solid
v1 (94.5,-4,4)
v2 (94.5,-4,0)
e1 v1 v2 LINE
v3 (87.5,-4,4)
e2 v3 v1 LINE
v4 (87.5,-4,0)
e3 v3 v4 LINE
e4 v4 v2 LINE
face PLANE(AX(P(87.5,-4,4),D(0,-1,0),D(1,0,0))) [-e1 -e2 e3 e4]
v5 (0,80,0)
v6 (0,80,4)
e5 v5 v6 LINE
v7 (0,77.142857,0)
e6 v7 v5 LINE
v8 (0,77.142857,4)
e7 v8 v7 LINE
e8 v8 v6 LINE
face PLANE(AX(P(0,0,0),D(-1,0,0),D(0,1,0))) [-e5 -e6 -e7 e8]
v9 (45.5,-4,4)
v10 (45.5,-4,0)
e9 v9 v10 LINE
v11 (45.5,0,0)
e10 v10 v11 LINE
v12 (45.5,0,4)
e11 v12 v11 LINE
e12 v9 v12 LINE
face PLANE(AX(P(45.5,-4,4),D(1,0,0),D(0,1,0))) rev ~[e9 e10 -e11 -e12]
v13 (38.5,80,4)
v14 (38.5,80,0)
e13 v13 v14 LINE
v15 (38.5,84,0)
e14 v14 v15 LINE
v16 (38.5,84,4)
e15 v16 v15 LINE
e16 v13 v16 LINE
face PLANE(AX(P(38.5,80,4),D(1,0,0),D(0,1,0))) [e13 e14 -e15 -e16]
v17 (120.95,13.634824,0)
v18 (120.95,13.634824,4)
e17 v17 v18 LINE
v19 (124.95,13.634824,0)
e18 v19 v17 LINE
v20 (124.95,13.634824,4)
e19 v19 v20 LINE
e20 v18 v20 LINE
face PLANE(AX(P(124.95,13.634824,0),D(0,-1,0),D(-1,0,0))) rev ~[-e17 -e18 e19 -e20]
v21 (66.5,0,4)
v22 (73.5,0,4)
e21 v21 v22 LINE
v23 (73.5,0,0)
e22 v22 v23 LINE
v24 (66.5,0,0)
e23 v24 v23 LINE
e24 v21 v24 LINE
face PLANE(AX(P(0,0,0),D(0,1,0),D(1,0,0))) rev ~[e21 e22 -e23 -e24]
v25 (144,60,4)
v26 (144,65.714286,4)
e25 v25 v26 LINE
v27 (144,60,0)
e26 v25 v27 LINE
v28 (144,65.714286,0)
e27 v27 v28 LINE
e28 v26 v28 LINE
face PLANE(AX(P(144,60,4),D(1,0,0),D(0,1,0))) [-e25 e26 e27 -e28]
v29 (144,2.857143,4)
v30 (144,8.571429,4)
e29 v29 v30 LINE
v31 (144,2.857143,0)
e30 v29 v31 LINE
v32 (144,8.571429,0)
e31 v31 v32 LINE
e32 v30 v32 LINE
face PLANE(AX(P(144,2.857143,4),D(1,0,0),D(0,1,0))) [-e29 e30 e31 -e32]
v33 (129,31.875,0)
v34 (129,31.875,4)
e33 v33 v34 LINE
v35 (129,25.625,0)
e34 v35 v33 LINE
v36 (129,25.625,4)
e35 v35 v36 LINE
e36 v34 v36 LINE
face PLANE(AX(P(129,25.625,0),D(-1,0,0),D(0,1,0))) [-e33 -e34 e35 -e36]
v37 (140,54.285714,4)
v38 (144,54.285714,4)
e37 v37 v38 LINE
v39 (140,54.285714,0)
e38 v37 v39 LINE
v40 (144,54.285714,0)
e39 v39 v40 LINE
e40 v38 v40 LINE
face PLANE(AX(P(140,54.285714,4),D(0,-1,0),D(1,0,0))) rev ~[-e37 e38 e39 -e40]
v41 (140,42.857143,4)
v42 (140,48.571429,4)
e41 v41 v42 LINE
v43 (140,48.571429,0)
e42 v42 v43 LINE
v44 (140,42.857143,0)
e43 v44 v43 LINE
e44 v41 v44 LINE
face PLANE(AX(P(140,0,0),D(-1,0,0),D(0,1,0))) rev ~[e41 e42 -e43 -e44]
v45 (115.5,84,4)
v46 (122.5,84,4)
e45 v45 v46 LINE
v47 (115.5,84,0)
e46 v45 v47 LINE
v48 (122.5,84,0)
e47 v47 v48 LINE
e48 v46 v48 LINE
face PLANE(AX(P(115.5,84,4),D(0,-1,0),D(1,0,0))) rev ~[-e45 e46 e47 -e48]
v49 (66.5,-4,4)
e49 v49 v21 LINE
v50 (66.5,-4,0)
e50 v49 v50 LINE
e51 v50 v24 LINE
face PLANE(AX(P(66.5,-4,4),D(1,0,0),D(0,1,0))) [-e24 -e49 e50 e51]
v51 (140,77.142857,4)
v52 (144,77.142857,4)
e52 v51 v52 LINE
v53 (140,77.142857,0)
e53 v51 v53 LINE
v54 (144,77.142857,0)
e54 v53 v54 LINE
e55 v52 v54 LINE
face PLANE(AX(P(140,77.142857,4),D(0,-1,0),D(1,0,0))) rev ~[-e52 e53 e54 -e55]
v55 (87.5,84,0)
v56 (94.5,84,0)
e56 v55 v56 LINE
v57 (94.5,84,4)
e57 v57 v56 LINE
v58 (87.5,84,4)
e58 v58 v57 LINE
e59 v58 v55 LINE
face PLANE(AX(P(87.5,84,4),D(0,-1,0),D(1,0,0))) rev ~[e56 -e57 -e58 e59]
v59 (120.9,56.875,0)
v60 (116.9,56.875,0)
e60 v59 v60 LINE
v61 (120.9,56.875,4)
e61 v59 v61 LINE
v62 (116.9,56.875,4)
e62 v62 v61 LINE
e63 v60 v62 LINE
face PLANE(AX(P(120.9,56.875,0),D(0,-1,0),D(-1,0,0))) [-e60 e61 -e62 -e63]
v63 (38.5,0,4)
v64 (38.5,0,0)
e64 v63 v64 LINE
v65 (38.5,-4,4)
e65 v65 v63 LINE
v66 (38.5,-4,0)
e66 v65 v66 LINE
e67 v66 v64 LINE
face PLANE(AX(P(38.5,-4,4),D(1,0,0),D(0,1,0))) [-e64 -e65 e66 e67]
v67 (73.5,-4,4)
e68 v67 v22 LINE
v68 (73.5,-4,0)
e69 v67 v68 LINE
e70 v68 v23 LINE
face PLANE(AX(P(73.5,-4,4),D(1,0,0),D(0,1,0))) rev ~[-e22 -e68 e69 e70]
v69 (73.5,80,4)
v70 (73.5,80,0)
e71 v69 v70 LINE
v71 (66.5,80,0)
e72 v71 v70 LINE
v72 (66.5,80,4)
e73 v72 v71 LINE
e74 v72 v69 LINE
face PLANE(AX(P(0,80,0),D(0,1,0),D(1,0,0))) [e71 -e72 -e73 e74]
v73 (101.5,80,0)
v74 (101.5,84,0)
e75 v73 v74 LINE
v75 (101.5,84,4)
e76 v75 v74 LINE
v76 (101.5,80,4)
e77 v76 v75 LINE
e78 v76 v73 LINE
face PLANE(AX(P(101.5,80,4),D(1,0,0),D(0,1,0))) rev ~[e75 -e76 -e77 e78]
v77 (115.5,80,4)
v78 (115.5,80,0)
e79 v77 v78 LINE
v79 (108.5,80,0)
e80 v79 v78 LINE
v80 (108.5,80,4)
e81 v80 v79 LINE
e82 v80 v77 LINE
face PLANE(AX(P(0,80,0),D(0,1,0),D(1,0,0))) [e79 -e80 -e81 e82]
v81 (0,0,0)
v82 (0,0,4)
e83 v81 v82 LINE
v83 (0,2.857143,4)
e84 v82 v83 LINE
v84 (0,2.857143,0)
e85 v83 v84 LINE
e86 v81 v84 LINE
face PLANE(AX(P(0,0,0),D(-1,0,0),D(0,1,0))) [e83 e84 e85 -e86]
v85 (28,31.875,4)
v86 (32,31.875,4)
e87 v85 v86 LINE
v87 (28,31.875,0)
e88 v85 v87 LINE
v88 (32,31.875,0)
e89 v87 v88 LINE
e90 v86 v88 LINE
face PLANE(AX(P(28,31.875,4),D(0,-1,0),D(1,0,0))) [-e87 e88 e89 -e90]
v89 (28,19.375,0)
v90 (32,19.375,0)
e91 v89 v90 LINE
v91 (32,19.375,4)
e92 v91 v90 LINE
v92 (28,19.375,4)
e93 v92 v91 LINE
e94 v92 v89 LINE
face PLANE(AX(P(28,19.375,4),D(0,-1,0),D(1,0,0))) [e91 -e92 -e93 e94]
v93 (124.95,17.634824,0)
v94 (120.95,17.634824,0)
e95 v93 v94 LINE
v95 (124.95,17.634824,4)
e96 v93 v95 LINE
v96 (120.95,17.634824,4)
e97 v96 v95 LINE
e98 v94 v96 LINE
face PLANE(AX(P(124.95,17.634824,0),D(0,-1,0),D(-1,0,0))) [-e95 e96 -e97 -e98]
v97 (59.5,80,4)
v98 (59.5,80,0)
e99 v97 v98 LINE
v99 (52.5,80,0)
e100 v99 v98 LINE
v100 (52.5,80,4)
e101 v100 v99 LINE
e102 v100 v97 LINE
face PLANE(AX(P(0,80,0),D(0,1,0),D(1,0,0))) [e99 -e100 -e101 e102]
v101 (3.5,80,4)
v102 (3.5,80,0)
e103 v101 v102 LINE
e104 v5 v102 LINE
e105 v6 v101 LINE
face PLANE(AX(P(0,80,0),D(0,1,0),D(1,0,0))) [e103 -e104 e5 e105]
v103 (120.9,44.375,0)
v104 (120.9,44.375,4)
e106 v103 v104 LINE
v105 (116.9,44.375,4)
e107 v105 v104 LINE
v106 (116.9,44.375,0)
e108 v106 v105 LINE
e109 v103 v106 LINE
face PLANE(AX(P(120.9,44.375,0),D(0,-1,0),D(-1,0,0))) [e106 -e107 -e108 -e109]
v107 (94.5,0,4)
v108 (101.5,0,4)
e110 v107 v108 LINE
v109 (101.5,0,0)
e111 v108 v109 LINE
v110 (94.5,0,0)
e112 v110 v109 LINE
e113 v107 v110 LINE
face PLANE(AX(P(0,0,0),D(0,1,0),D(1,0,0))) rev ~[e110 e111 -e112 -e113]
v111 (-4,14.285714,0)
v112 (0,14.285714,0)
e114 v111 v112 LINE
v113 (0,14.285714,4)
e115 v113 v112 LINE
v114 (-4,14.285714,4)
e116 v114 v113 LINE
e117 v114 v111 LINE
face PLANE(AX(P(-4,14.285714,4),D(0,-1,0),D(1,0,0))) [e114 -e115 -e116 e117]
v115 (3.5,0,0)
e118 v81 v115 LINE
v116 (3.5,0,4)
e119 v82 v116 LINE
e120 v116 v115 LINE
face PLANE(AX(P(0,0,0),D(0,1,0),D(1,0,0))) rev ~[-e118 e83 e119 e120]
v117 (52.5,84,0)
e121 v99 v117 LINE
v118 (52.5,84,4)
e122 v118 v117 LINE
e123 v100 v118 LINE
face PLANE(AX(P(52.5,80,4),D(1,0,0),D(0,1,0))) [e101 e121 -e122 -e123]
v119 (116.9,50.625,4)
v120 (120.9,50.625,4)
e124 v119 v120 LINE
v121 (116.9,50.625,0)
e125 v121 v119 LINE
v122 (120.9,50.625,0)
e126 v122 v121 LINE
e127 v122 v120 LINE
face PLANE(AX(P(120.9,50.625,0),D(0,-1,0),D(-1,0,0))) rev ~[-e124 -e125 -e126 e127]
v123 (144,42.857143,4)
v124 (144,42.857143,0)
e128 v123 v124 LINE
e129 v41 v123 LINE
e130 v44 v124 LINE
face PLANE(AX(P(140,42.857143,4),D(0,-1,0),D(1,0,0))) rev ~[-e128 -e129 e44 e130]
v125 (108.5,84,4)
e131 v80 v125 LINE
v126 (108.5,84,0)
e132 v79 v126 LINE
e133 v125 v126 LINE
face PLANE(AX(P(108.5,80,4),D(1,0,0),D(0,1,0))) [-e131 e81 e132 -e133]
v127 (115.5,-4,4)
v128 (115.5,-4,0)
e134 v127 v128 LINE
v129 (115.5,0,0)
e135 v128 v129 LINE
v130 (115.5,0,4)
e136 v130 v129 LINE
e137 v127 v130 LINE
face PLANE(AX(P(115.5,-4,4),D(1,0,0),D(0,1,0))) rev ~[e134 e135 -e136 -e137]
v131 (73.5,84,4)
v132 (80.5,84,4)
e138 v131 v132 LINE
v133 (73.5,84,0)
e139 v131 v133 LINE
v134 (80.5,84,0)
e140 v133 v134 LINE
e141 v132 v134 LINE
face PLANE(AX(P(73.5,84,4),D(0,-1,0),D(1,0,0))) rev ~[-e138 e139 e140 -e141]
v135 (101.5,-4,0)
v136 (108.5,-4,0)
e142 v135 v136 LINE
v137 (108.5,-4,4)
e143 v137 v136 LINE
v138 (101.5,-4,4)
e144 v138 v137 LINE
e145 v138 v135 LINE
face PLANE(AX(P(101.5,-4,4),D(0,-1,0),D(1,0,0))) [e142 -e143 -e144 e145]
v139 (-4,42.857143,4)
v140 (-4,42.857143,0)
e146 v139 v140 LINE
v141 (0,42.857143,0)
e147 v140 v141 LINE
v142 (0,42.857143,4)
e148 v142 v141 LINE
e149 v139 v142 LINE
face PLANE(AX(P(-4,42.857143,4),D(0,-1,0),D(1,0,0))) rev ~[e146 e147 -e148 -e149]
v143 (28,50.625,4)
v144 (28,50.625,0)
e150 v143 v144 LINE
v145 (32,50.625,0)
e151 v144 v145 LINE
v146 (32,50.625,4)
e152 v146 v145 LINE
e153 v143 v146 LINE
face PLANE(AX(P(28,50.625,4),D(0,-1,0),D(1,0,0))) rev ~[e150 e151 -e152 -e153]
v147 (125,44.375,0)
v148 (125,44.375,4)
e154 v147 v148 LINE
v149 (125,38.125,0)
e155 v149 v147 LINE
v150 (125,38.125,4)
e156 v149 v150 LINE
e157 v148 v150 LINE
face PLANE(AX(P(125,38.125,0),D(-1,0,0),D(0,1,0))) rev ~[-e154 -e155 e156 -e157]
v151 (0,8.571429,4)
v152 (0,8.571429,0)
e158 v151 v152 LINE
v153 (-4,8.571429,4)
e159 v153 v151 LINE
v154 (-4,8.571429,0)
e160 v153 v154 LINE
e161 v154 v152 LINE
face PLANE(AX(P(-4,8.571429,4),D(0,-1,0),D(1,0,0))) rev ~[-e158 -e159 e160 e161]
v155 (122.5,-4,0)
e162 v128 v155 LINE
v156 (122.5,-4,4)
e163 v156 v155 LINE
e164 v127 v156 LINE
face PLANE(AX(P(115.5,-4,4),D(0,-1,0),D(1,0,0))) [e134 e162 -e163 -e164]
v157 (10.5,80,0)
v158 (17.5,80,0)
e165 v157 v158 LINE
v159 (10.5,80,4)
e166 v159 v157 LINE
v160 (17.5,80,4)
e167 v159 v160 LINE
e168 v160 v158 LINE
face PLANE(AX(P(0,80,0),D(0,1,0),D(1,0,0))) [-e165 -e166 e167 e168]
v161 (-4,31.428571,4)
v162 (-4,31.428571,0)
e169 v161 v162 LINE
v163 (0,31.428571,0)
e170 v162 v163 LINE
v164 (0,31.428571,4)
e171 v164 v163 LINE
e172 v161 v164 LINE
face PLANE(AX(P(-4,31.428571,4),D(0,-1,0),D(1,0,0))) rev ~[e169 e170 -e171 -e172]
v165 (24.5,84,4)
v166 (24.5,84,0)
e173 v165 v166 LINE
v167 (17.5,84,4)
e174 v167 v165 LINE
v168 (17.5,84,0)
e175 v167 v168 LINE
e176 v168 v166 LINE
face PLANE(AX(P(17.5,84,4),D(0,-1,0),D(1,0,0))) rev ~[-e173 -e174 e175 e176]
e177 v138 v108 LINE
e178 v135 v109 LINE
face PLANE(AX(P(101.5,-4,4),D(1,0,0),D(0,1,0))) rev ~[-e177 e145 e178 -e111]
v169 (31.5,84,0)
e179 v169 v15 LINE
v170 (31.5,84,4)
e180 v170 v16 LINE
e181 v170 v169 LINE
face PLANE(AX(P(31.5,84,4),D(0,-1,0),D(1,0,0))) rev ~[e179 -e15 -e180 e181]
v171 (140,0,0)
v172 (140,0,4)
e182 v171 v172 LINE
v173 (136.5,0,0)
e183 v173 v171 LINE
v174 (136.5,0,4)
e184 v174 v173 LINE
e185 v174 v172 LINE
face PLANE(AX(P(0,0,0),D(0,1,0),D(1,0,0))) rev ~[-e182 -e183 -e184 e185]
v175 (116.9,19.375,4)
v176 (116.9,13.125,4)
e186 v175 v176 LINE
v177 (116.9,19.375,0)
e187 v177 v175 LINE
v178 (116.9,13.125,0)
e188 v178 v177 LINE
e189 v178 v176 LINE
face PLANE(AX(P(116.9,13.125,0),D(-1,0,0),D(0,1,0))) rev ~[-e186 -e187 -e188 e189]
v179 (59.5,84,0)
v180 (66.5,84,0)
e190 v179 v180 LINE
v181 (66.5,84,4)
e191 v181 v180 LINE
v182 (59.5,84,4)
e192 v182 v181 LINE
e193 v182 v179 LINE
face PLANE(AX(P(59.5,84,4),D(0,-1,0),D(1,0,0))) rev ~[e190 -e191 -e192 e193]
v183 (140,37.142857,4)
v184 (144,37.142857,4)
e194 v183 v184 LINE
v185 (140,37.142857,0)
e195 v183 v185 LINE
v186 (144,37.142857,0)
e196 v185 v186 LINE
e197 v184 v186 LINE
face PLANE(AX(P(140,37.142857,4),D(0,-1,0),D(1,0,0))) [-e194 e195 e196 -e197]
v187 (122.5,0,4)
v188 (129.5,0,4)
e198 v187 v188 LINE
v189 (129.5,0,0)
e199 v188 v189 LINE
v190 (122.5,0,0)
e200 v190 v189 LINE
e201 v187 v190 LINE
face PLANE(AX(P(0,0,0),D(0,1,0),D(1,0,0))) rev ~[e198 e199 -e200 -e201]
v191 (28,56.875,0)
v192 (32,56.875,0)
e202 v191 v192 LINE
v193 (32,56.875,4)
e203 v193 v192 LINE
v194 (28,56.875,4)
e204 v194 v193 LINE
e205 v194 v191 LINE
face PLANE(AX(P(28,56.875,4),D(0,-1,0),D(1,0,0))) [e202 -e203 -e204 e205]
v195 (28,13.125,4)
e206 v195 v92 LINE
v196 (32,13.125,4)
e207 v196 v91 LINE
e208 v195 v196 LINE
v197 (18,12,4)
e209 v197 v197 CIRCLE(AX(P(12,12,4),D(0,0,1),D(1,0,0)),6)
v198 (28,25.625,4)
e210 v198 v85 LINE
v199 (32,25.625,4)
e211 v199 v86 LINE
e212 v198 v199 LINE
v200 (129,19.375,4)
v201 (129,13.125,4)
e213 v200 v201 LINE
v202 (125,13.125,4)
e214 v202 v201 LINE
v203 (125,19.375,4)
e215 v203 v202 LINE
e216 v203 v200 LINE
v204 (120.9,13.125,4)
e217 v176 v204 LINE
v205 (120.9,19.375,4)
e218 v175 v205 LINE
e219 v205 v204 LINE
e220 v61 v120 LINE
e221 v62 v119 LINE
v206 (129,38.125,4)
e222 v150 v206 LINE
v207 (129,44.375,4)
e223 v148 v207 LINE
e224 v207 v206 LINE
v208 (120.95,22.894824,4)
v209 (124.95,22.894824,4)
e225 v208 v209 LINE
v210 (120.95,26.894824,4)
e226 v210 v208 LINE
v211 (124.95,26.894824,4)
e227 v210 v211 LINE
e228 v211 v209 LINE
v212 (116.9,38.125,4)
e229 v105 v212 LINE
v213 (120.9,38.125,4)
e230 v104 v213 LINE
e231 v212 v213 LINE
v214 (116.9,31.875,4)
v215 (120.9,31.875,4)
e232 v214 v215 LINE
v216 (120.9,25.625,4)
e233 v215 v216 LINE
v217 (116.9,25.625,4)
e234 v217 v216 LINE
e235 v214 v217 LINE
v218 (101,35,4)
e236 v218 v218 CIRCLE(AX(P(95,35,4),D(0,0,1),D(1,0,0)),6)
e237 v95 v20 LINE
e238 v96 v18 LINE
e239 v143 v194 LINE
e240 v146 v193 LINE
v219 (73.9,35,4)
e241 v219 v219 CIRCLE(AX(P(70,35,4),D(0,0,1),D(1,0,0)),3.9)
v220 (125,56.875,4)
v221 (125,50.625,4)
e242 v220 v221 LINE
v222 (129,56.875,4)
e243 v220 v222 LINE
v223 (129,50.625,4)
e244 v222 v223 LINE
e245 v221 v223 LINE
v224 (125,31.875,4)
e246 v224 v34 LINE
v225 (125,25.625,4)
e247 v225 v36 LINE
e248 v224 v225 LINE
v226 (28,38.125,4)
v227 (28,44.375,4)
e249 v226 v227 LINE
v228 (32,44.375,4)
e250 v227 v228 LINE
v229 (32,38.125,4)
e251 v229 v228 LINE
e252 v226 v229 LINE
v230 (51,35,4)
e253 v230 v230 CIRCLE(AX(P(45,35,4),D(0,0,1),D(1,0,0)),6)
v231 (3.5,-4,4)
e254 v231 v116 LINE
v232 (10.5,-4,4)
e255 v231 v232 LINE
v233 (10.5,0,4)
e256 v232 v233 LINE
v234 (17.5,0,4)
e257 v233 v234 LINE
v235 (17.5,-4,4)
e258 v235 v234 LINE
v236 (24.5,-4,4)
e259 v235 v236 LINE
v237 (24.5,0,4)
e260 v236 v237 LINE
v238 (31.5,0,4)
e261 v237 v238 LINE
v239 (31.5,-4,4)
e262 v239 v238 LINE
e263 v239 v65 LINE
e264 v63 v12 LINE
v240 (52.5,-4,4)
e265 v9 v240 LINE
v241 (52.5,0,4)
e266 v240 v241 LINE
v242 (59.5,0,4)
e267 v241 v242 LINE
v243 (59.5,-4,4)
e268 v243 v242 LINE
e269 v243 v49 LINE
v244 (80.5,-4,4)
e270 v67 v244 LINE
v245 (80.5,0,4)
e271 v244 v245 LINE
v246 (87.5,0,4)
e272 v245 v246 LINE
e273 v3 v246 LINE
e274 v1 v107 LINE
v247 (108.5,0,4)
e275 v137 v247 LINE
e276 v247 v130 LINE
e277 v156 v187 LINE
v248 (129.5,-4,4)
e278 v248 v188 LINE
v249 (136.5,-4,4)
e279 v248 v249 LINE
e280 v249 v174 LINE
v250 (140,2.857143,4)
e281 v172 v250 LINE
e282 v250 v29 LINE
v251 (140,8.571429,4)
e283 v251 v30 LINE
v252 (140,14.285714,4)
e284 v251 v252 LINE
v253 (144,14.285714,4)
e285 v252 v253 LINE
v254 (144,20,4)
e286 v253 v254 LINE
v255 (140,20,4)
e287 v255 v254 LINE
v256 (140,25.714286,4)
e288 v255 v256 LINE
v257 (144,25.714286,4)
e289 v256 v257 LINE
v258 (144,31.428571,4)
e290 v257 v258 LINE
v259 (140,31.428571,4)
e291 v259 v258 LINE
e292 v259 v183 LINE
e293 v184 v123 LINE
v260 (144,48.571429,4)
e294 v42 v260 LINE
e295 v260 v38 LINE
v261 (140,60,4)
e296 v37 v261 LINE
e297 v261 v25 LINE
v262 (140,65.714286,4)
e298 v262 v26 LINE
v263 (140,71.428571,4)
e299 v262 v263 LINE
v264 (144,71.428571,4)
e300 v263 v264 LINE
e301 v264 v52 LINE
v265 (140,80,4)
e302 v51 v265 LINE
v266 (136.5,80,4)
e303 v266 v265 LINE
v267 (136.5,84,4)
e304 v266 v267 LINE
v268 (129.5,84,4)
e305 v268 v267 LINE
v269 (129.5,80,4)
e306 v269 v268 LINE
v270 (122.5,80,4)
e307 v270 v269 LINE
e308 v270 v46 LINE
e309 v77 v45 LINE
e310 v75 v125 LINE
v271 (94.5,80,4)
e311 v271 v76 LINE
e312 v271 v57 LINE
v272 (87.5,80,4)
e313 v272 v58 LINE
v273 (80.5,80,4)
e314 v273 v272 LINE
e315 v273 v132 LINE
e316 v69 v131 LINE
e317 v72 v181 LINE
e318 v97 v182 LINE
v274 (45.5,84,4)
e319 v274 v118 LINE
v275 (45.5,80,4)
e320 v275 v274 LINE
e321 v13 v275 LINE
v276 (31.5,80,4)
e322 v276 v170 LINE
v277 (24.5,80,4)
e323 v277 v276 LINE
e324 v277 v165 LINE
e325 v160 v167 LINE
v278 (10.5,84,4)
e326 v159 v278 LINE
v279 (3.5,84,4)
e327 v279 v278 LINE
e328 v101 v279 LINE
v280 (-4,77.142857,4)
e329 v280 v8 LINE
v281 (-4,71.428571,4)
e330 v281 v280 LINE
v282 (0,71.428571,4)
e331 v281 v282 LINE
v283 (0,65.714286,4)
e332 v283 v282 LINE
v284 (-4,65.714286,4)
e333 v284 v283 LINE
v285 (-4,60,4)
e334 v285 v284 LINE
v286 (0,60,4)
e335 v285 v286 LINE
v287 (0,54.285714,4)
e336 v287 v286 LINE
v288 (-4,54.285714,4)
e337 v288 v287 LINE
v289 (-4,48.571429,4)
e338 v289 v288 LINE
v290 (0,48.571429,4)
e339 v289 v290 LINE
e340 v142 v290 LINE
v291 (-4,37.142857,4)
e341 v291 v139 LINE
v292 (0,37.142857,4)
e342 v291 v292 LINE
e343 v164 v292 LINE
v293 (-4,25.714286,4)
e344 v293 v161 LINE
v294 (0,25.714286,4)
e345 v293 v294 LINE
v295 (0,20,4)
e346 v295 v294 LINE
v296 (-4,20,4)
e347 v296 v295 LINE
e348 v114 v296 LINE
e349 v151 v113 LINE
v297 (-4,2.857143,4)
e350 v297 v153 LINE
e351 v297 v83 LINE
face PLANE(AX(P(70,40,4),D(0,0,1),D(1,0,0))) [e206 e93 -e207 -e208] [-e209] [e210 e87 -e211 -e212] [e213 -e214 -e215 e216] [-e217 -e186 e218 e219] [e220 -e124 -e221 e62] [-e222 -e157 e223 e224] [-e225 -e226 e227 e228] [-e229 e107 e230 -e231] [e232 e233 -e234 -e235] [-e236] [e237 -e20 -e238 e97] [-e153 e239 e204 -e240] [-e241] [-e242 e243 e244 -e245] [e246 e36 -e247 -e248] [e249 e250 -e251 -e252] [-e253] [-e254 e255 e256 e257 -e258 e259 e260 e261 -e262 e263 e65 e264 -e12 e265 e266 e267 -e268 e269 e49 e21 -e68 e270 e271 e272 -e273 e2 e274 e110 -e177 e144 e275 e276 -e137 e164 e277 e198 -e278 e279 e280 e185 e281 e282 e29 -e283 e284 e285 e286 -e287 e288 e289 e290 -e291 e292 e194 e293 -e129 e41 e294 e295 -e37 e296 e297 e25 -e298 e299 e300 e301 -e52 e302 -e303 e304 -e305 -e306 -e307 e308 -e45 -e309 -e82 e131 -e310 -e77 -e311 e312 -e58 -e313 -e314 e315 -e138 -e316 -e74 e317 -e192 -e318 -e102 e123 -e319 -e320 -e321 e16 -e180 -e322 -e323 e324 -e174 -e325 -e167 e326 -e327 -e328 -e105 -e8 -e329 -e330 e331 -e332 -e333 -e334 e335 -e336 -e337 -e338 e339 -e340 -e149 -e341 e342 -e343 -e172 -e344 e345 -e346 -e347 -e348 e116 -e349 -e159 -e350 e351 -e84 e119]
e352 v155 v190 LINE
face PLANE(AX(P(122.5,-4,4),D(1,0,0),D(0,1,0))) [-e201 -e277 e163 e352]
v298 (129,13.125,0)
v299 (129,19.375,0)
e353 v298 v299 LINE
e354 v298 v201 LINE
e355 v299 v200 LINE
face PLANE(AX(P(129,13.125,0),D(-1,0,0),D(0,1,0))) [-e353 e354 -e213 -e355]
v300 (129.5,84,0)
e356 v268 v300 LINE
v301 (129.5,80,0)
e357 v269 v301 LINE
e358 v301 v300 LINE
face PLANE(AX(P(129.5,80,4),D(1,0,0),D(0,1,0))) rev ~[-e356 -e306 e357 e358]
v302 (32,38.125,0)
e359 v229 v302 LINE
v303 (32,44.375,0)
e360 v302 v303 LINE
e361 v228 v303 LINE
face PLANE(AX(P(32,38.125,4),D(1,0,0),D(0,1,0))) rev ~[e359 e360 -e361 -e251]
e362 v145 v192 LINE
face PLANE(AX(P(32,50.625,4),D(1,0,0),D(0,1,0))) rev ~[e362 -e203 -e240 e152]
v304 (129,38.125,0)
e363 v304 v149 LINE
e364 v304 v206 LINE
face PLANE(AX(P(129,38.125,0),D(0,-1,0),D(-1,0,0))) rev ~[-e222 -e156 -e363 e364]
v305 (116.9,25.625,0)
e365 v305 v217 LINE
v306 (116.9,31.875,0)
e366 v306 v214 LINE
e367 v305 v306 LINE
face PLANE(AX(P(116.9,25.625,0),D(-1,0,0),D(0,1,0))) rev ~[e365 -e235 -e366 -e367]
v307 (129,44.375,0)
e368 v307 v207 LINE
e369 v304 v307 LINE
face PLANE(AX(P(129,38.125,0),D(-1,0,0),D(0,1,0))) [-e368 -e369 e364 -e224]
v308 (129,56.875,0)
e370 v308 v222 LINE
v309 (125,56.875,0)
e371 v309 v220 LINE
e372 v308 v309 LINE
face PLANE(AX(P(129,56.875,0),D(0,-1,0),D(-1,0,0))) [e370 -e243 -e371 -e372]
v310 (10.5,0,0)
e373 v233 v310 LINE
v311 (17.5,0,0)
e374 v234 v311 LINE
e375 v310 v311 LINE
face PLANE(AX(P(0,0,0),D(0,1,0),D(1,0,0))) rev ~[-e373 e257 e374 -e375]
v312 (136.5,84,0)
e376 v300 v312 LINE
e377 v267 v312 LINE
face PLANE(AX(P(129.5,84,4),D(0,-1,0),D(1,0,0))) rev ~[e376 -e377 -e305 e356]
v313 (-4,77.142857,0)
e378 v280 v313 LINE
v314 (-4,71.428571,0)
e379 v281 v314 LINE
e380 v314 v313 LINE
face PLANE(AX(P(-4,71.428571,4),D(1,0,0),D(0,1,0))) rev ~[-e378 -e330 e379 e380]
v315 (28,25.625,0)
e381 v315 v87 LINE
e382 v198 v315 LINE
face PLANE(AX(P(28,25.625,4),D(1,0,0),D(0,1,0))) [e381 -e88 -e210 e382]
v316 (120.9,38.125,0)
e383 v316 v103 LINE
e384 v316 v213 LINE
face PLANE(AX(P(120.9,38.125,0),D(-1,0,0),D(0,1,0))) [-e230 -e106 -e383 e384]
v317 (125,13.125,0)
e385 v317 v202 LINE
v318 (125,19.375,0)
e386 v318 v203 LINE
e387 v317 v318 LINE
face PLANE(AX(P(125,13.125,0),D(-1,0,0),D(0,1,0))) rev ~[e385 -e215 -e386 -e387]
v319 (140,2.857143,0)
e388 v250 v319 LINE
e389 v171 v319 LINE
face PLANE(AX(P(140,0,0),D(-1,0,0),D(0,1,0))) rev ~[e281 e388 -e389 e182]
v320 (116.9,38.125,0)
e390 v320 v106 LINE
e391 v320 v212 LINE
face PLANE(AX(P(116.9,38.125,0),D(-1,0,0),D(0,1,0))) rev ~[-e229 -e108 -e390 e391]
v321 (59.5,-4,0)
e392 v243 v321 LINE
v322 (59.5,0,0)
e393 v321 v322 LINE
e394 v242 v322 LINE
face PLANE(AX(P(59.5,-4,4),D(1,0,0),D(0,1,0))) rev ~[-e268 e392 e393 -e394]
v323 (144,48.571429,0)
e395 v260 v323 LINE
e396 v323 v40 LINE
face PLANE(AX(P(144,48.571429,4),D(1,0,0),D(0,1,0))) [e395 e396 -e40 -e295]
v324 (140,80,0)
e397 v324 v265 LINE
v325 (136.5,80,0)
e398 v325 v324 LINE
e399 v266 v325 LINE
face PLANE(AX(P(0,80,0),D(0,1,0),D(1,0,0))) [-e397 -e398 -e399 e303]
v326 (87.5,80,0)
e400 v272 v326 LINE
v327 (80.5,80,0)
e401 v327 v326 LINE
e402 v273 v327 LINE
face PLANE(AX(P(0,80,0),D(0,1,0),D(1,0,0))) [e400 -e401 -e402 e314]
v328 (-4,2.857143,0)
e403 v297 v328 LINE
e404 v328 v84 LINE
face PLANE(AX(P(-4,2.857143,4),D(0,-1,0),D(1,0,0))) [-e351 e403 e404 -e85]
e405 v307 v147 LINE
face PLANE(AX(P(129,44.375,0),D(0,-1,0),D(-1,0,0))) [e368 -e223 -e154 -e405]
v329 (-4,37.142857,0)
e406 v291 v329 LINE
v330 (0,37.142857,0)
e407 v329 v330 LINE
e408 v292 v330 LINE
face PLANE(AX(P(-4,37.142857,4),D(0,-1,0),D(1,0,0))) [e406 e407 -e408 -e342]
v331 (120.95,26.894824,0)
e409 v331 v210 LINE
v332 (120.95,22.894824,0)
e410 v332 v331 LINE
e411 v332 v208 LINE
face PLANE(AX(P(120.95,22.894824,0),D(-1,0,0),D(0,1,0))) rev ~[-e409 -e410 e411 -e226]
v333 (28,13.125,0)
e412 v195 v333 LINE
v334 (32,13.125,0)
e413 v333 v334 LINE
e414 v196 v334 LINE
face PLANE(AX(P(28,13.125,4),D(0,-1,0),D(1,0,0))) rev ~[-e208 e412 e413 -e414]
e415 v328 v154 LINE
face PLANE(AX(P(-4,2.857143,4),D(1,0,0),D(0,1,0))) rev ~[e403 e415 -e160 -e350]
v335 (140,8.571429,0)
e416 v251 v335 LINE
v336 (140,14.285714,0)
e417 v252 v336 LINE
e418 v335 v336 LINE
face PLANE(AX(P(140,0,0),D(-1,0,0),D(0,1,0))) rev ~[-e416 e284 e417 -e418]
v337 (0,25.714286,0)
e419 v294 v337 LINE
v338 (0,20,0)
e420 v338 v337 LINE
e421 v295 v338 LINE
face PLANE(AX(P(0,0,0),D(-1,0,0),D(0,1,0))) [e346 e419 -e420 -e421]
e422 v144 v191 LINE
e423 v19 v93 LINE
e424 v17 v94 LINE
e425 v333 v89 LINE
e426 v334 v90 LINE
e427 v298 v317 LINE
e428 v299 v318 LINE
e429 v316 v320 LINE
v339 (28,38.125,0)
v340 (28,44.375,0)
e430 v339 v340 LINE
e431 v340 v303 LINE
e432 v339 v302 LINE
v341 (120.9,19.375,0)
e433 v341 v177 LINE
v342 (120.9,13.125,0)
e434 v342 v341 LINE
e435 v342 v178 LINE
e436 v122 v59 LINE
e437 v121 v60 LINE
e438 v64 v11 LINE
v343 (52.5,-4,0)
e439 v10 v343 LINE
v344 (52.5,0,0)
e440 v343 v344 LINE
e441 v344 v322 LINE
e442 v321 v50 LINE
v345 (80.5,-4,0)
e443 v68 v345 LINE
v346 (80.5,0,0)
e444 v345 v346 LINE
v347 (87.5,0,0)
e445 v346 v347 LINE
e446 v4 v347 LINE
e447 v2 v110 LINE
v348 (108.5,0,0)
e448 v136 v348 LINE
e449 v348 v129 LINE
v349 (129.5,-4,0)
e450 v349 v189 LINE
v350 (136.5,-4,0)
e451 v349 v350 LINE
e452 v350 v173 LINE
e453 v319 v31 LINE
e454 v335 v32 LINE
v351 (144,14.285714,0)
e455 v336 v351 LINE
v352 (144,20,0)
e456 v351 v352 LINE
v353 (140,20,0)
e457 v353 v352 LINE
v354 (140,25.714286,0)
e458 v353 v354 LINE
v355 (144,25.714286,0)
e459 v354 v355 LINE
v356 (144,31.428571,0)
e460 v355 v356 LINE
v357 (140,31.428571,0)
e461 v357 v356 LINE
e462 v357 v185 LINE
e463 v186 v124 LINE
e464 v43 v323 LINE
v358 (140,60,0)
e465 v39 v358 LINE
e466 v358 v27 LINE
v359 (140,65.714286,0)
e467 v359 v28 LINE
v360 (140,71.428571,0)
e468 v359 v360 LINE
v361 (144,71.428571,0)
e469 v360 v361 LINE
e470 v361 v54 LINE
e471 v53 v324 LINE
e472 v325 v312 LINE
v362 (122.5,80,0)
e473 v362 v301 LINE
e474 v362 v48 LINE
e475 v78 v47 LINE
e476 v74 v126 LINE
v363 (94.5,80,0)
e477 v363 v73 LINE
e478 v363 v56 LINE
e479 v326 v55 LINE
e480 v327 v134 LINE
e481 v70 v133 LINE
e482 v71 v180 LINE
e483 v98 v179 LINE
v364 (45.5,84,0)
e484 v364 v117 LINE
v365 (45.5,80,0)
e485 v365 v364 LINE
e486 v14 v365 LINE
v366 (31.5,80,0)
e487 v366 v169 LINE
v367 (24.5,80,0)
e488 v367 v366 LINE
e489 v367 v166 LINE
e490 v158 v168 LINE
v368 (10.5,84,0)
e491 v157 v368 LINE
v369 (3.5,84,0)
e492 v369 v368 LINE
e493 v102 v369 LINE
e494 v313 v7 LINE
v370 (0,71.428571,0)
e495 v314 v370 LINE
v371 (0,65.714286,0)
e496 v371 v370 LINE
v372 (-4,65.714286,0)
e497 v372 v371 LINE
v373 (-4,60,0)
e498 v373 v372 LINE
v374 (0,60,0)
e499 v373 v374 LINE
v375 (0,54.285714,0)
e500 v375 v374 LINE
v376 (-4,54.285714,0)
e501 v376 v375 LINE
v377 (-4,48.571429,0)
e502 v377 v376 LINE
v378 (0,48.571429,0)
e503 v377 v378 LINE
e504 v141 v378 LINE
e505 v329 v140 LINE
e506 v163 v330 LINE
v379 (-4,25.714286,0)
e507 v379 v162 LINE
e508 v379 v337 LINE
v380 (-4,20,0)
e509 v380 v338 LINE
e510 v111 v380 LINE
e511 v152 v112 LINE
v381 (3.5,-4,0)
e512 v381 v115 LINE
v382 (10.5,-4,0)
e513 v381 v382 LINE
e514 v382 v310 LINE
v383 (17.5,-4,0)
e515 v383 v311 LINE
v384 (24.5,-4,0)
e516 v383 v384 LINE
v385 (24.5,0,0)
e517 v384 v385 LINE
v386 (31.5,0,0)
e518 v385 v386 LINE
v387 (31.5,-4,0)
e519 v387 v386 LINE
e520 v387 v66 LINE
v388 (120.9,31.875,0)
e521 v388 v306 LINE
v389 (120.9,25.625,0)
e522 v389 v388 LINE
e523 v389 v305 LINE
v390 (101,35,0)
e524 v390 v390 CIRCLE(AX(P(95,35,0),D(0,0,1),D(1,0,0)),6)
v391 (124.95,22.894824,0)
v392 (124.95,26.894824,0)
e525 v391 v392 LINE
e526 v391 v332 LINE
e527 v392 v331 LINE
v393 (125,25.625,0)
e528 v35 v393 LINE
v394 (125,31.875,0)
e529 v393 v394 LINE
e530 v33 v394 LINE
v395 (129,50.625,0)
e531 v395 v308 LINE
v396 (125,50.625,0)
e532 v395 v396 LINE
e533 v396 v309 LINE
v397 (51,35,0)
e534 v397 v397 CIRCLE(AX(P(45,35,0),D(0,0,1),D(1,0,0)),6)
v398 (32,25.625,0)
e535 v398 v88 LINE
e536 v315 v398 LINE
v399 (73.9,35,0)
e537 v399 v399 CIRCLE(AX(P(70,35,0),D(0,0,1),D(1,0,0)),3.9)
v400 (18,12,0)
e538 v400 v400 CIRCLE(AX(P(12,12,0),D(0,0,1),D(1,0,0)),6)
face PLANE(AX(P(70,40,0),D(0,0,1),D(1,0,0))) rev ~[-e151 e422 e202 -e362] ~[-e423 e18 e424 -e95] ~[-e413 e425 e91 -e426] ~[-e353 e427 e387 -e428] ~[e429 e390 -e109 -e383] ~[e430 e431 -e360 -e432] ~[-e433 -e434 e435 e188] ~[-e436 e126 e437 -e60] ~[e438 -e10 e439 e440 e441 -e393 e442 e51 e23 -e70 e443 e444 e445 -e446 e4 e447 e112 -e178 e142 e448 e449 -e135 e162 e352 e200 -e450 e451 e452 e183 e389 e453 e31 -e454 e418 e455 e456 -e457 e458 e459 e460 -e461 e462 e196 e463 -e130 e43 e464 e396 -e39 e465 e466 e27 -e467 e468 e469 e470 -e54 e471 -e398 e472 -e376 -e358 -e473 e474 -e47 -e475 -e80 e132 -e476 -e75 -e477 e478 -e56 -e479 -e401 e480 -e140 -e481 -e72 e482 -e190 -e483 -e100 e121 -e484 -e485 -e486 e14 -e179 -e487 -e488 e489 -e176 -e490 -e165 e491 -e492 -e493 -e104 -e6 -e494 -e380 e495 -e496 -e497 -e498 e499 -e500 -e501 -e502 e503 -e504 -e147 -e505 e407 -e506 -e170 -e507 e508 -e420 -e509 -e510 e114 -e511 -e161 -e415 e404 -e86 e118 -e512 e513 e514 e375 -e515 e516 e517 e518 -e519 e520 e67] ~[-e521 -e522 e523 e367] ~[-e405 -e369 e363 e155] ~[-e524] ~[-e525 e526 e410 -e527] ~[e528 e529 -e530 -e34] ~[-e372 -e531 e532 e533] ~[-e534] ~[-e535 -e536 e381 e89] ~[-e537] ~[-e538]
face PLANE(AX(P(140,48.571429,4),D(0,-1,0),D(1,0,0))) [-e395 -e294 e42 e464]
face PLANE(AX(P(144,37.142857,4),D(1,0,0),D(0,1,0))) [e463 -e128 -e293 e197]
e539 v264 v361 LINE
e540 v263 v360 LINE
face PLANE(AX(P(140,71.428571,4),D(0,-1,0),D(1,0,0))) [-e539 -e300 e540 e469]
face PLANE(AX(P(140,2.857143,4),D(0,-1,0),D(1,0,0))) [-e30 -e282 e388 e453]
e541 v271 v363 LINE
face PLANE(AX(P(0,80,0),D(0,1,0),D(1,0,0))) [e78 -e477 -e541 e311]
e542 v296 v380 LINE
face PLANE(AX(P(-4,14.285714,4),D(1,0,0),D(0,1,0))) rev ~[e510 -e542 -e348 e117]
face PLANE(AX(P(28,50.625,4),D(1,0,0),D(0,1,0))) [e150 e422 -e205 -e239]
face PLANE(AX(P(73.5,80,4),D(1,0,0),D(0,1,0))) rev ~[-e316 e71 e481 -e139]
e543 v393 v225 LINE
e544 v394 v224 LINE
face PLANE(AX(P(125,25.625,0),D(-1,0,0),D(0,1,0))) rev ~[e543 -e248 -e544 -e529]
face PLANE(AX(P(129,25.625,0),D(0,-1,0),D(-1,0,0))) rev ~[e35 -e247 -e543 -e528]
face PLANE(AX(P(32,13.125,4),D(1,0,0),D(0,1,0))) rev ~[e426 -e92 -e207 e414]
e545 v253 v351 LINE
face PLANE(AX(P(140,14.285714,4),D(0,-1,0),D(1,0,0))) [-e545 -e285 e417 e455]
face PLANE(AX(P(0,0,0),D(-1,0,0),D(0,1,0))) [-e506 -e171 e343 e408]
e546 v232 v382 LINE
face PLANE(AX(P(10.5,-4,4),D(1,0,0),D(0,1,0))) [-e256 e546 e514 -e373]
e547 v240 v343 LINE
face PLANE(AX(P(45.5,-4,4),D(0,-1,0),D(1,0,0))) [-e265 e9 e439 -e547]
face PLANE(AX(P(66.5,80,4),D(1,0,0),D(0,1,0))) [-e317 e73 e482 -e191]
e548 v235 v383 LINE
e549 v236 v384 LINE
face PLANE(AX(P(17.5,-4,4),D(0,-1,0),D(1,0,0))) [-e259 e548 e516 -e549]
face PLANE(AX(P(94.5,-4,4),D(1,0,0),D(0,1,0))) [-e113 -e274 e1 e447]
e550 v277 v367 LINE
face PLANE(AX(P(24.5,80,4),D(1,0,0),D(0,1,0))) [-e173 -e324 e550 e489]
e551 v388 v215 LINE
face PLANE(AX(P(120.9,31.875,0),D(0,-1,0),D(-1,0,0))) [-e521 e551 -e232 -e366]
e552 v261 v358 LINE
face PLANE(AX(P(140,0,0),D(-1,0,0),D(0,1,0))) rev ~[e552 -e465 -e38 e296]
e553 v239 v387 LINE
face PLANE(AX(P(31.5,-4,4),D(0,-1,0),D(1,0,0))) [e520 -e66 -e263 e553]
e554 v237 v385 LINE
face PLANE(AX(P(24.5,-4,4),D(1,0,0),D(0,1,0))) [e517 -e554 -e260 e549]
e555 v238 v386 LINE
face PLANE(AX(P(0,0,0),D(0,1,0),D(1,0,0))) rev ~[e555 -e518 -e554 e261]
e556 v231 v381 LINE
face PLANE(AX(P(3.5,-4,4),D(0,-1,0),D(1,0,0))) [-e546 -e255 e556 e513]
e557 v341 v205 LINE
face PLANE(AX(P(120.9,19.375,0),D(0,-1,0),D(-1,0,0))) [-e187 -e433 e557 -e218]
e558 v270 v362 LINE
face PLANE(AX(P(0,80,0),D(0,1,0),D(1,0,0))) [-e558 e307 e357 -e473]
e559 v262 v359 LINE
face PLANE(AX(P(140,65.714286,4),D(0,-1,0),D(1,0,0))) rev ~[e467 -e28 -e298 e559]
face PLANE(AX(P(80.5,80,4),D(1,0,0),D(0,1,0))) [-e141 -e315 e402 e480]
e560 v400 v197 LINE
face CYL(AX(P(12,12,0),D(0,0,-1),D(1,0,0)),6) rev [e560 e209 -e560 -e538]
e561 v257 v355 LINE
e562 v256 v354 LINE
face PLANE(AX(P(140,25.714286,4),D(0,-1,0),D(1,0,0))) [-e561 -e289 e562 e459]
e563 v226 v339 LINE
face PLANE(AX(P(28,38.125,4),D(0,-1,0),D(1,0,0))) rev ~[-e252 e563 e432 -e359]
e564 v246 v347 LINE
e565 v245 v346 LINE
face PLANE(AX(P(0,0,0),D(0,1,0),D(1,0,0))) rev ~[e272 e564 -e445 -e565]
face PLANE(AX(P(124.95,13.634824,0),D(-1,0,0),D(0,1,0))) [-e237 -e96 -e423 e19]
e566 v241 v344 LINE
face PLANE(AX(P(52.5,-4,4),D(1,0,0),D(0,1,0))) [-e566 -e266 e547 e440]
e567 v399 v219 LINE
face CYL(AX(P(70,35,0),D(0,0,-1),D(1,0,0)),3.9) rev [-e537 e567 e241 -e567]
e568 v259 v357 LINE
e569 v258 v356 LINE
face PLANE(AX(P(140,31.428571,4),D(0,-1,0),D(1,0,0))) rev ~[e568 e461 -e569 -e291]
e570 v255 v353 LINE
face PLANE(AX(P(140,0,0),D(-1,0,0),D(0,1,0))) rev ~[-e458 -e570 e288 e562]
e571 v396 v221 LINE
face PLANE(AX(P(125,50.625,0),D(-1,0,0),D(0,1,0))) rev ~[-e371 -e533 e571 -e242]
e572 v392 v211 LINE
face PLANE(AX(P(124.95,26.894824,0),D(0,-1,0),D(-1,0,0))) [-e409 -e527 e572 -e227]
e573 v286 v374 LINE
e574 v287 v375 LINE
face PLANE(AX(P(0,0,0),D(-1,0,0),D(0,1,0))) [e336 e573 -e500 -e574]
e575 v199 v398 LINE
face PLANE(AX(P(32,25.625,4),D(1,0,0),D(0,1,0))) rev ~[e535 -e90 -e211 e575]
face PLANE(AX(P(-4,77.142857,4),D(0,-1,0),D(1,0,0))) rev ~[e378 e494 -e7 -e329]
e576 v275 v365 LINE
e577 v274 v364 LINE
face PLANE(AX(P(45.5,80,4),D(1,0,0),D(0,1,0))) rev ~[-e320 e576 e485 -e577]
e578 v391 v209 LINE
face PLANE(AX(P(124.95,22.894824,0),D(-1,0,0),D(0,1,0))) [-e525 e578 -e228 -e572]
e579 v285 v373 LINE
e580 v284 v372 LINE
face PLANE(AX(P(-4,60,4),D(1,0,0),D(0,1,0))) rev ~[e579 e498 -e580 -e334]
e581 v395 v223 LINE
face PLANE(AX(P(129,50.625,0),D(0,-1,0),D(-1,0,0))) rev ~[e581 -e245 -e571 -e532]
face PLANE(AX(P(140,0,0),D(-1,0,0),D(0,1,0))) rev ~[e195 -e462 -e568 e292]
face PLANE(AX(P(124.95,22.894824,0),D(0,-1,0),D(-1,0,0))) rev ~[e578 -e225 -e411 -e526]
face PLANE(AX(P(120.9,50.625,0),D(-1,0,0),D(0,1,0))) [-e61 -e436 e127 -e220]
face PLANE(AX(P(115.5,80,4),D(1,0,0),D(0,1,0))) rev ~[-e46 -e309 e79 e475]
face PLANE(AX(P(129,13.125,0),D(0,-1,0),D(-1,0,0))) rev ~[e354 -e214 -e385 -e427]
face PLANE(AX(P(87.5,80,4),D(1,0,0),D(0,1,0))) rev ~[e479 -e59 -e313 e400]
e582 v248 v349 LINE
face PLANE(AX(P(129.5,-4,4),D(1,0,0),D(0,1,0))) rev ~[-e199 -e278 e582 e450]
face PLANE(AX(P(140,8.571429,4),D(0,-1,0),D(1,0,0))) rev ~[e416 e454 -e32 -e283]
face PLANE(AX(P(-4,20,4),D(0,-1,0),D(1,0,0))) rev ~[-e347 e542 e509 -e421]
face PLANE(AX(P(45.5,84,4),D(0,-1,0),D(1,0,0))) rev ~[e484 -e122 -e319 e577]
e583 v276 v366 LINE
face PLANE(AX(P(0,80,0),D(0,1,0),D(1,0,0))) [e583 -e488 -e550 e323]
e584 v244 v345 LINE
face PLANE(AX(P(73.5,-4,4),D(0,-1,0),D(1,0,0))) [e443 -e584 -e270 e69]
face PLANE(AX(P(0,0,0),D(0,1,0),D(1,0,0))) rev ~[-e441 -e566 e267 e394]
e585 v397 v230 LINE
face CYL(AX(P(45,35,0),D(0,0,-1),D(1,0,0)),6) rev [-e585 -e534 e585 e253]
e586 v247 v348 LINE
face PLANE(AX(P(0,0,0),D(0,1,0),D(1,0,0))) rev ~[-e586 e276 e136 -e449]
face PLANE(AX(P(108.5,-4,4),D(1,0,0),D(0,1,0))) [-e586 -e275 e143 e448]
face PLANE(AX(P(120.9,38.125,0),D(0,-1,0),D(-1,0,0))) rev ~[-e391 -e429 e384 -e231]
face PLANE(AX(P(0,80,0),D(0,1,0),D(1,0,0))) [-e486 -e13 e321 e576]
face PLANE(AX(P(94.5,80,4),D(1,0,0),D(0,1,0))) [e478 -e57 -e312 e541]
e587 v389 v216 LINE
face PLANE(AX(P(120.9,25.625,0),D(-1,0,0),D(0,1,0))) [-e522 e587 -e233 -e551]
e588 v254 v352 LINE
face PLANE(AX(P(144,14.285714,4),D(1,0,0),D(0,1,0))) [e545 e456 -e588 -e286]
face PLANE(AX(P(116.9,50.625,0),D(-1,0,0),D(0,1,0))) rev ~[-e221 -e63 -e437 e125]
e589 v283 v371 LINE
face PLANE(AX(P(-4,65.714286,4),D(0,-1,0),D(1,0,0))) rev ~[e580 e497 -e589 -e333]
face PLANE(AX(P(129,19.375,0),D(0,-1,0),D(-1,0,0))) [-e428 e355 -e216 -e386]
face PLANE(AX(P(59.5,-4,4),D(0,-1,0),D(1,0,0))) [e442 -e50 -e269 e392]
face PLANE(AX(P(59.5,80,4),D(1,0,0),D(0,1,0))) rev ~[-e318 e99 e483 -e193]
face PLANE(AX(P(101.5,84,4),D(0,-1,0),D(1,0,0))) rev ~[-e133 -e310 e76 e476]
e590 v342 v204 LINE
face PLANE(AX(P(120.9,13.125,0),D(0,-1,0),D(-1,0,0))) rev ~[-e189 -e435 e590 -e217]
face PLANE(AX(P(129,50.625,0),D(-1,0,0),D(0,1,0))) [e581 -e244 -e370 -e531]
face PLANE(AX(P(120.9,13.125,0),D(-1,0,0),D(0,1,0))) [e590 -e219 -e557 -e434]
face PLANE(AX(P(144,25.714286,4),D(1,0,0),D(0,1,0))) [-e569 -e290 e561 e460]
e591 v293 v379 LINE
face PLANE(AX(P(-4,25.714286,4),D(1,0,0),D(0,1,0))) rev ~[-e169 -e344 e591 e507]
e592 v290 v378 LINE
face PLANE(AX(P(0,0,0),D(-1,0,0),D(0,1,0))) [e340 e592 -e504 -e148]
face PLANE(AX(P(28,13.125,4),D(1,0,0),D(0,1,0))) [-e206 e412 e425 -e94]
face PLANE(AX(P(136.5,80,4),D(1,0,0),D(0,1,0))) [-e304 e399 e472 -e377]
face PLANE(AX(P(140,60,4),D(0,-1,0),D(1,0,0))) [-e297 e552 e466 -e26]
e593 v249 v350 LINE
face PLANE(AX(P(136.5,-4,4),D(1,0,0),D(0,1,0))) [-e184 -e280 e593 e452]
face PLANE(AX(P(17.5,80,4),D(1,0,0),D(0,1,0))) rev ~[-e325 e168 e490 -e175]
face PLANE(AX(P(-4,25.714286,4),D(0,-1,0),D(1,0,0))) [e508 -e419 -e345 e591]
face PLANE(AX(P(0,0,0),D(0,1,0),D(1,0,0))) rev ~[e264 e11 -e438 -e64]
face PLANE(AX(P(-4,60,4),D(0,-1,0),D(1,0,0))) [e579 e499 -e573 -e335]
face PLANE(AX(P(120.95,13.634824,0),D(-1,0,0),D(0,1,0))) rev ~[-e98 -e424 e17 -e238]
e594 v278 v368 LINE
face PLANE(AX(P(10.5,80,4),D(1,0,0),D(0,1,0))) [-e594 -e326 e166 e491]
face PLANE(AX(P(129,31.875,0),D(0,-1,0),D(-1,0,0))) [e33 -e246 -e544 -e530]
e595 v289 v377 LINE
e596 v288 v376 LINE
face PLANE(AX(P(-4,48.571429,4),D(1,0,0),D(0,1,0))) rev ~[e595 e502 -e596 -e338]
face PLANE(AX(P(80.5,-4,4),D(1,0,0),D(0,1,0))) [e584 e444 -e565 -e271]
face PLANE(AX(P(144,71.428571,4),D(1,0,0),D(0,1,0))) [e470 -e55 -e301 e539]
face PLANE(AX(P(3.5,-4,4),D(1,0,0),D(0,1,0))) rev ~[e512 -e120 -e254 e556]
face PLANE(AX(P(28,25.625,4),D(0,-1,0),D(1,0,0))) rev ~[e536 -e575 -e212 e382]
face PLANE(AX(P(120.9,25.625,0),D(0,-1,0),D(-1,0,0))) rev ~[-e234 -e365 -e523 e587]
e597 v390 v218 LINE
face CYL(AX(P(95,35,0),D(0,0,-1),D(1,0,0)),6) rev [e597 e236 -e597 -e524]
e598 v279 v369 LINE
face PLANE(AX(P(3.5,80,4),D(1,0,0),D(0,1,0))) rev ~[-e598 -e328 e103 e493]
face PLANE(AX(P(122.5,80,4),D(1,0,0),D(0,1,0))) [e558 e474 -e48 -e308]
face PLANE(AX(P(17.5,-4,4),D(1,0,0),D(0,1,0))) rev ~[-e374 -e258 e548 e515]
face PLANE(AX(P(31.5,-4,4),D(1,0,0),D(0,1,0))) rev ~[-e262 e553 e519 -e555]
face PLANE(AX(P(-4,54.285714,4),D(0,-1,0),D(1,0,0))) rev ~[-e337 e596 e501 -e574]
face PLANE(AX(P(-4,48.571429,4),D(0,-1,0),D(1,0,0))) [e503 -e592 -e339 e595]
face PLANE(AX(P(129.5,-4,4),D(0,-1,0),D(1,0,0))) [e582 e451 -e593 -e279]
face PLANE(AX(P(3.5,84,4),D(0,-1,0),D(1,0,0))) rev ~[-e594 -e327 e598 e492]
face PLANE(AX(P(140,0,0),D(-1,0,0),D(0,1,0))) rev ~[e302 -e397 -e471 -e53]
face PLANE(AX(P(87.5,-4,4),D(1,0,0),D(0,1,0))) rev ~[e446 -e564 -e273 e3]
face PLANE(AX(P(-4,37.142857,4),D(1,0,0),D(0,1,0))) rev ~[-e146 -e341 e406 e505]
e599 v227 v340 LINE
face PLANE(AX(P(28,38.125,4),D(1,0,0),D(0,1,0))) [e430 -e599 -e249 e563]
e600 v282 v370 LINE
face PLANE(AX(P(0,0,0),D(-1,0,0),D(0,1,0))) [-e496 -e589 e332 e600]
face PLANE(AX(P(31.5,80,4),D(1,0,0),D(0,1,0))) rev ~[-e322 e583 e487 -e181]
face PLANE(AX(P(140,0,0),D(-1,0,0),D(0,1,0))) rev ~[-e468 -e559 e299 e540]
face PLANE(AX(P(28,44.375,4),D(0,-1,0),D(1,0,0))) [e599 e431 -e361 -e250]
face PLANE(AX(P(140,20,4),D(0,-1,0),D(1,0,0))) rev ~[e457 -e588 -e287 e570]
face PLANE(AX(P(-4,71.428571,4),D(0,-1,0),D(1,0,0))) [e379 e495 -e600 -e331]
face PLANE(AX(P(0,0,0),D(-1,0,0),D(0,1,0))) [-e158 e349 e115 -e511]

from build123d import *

# Parameters (mm, degrees)
SCHIZZO1_W                   = 140
SCHIZZO1_H                   = 80
SCHIZZO1_R                   = 6
SCHIZZO1_R_2                 = 3.9
ESTRUSIONE_ESTRUSIONE1_DEPTH = 4
SCHIZZO2_W                   = 7
SCHIZZO2_H                   = 4
ESTRUSIONE_ESTRUSIONE2_DEPTH = 4
RIPETIZIONE_A_L1_COUNT       = 10
RIPETIZIONE_A_L1_PITCH       = 14
SCHIZZO3_W                   = 4
SCHIZZO3_H                   = 5.714285714
ESTRUSIONE_ESTRUSIONE3_DEPTH = 4
RIPETIZIONE_A_L2_COUNT       = 7
RIPETIZIONE_A_L2_PITCH       = 11.428571429
SCHIZZO4_W                   = 4
SCHIZZO4_H                   = 6.25
TAGLIO_ESTRUSIONE1_DEPTH     = 167.757308685
RIPETIZIONE_A_L3_COUNT       = 4
RIPETIZIONE_A_L3_PITCH       = 12.5
SCHIZZO5_W                   = 4
SCHIZZO5_H                   = 6.25
TAGLIO_ESTRUSIONE2_DEPTH     = 167.757308685
RIPETIZIONE_A_L4_COUNT       = 4
RIPETIZIONE_A_L4_PITCH       = 12.5
SCHIZZO6_W                   = 4
SCHIZZO6_H                   = 4
TAGLIO_ESTRUSIONE3_DEPTH     = 167.757308685


with BuildPart() as part:
    # Schizzo1 → Estrusione-Estrusione1 (new body)
    with BuildSketch(Plane.XY):
        with Locations((70, 40)):
            Rectangle(SCHIZZO1_W, SCHIZZO1_H)
        with Locations((45, 35)):
            Circle(SCHIZZO1_R, mode=Mode.SUBTRACT)
        with Locations((95, 35)):
            Circle(SCHIZZO1_R, mode=Mode.SUBTRACT)
        with Locations((12, 12)):
            Circle(SCHIZZO1_R, mode=Mode.SUBTRACT)
        with Locations((70, 35)):
            Circle(SCHIZZO1_R_2, mode=Mode.SUBTRACT)
    extrude(amount=ESTRUSIONE_ESTRUSIONE1_DEPTH)

    # Schizzo2 → Estrusione-Estrusione2 (add)
    with BuildSketch(Plane.XY.offset(4)):
        with Locations((7, 82)):
            Rectangle(SCHIZZO2_W, SCHIZZO2_H)
        with Locations((7, -2)):
            Rectangle(SCHIZZO2_W, SCHIZZO2_H)
    estrusione_estrusione2 = extrude(amount=-ESTRUSIONE_ESTRUSIONE2_DEPTH)

    # Ripetizione a L1: Estrusione-Estrusione2 ×10
    with Locations(*[(i * RIPETIZIONE_A_L1_PITCH, 0, 0) for i in range(1, RIPETIZIONE_A_L1_COUNT)]):
        add(estrusione_estrusione2)

    # Schizzo3 → Estrusione-Estrusione3 (add)
    with BuildSketch(Plane.XY.offset(4)):
        with Locations((-2, 74.285714286)):
            Rectangle(SCHIZZO3_W, SCHIZZO3_H)
        with Locations((142, 74.285714286)):
            Rectangle(SCHIZZO3_W, SCHIZZO3_H)
    estrusione_estrusione3 = extrude(amount=-ESTRUSIONE_ESTRUSIONE3_DEPTH)

    # Ripetizione a L2: Estrusione-Estrusione3 ×7
    with Locations(*[(0, -i * RIPETIZIONE_A_L2_PITCH, 0) for i in range(1, RIPETIZIONE_A_L2_COUNT)]):
        add(estrusione_estrusione3)

    # Schizzo4 → Taglio-Estrusione1 (cut, through all)
    with BuildSketch(Plane.XY.offset(4)):
        with Locations((30, 53.75)):
            Rectangle(SCHIZZO4_W, SCHIZZO4_H)
    taglio_estrusione1 = extrude(amount=-TAGLIO_ESTRUSIONE1_DEPTH, mode=Mode.SUBTRACT)

    # Ripetizione a L3: Taglio-Estrusione1 ×4
    with Locations(*[(0, -i * RIPETIZIONE_A_L3_PITCH, 0) for i in range(1, RIPETIZIONE_A_L3_COUNT)]):
        add(taglio_estrusione1, mode=Mode.SUBTRACT)

    # Schizzo5 → Taglio-Estrusione2 (cut, through all)
    with BuildSketch(Plane(origin=(0, 0, 0), x_dir=(-1, 0, 0), z_dir=(0, 0, -1))):
        with Locations((-127, 53.75)):
            Rectangle(SCHIZZO5_W, SCHIZZO5_H)
        with Locations((-118.9, 53.75)):
            Rectangle(SCHIZZO5_W, SCHIZZO5_H)
    taglio_estrusione2 = extrude(amount=-TAGLIO_ESTRUSIONE2_DEPTH, mode=Mode.SUBTRACT)

    # Ripetizione a L4: Taglio-Estrusione2 ×4
    with Locations(*[(0, -i * RIPETIZIONE_A_L4_PITCH, 0) for i in range(1, RIPETIZIONE_A_L4_COUNT)]):
        add(taglio_estrusione2, mode=Mode.SUBTRACT)

    # Schizzo6 → Taglio-Estrusione3 (cut, through all)
    with BuildSketch(Plane(origin=(0, 0, 0), x_dir=(-1, 0, 0), z_dir=(0, 0, -1))):
        with Locations((-122.95, 15.634824405)):
            Rectangle(SCHIZZO6_W, SCHIZZO6_H)
        with Locations((-122.95, 24.894824405)):
            Rectangle(SCHIZZO6_W, SCHIZZO6_H)
    extrude(amount=-TAGLIO_ESTRUSIONE3_DEPTH, mode=Mode.SUBTRACT)


solid = part.part
